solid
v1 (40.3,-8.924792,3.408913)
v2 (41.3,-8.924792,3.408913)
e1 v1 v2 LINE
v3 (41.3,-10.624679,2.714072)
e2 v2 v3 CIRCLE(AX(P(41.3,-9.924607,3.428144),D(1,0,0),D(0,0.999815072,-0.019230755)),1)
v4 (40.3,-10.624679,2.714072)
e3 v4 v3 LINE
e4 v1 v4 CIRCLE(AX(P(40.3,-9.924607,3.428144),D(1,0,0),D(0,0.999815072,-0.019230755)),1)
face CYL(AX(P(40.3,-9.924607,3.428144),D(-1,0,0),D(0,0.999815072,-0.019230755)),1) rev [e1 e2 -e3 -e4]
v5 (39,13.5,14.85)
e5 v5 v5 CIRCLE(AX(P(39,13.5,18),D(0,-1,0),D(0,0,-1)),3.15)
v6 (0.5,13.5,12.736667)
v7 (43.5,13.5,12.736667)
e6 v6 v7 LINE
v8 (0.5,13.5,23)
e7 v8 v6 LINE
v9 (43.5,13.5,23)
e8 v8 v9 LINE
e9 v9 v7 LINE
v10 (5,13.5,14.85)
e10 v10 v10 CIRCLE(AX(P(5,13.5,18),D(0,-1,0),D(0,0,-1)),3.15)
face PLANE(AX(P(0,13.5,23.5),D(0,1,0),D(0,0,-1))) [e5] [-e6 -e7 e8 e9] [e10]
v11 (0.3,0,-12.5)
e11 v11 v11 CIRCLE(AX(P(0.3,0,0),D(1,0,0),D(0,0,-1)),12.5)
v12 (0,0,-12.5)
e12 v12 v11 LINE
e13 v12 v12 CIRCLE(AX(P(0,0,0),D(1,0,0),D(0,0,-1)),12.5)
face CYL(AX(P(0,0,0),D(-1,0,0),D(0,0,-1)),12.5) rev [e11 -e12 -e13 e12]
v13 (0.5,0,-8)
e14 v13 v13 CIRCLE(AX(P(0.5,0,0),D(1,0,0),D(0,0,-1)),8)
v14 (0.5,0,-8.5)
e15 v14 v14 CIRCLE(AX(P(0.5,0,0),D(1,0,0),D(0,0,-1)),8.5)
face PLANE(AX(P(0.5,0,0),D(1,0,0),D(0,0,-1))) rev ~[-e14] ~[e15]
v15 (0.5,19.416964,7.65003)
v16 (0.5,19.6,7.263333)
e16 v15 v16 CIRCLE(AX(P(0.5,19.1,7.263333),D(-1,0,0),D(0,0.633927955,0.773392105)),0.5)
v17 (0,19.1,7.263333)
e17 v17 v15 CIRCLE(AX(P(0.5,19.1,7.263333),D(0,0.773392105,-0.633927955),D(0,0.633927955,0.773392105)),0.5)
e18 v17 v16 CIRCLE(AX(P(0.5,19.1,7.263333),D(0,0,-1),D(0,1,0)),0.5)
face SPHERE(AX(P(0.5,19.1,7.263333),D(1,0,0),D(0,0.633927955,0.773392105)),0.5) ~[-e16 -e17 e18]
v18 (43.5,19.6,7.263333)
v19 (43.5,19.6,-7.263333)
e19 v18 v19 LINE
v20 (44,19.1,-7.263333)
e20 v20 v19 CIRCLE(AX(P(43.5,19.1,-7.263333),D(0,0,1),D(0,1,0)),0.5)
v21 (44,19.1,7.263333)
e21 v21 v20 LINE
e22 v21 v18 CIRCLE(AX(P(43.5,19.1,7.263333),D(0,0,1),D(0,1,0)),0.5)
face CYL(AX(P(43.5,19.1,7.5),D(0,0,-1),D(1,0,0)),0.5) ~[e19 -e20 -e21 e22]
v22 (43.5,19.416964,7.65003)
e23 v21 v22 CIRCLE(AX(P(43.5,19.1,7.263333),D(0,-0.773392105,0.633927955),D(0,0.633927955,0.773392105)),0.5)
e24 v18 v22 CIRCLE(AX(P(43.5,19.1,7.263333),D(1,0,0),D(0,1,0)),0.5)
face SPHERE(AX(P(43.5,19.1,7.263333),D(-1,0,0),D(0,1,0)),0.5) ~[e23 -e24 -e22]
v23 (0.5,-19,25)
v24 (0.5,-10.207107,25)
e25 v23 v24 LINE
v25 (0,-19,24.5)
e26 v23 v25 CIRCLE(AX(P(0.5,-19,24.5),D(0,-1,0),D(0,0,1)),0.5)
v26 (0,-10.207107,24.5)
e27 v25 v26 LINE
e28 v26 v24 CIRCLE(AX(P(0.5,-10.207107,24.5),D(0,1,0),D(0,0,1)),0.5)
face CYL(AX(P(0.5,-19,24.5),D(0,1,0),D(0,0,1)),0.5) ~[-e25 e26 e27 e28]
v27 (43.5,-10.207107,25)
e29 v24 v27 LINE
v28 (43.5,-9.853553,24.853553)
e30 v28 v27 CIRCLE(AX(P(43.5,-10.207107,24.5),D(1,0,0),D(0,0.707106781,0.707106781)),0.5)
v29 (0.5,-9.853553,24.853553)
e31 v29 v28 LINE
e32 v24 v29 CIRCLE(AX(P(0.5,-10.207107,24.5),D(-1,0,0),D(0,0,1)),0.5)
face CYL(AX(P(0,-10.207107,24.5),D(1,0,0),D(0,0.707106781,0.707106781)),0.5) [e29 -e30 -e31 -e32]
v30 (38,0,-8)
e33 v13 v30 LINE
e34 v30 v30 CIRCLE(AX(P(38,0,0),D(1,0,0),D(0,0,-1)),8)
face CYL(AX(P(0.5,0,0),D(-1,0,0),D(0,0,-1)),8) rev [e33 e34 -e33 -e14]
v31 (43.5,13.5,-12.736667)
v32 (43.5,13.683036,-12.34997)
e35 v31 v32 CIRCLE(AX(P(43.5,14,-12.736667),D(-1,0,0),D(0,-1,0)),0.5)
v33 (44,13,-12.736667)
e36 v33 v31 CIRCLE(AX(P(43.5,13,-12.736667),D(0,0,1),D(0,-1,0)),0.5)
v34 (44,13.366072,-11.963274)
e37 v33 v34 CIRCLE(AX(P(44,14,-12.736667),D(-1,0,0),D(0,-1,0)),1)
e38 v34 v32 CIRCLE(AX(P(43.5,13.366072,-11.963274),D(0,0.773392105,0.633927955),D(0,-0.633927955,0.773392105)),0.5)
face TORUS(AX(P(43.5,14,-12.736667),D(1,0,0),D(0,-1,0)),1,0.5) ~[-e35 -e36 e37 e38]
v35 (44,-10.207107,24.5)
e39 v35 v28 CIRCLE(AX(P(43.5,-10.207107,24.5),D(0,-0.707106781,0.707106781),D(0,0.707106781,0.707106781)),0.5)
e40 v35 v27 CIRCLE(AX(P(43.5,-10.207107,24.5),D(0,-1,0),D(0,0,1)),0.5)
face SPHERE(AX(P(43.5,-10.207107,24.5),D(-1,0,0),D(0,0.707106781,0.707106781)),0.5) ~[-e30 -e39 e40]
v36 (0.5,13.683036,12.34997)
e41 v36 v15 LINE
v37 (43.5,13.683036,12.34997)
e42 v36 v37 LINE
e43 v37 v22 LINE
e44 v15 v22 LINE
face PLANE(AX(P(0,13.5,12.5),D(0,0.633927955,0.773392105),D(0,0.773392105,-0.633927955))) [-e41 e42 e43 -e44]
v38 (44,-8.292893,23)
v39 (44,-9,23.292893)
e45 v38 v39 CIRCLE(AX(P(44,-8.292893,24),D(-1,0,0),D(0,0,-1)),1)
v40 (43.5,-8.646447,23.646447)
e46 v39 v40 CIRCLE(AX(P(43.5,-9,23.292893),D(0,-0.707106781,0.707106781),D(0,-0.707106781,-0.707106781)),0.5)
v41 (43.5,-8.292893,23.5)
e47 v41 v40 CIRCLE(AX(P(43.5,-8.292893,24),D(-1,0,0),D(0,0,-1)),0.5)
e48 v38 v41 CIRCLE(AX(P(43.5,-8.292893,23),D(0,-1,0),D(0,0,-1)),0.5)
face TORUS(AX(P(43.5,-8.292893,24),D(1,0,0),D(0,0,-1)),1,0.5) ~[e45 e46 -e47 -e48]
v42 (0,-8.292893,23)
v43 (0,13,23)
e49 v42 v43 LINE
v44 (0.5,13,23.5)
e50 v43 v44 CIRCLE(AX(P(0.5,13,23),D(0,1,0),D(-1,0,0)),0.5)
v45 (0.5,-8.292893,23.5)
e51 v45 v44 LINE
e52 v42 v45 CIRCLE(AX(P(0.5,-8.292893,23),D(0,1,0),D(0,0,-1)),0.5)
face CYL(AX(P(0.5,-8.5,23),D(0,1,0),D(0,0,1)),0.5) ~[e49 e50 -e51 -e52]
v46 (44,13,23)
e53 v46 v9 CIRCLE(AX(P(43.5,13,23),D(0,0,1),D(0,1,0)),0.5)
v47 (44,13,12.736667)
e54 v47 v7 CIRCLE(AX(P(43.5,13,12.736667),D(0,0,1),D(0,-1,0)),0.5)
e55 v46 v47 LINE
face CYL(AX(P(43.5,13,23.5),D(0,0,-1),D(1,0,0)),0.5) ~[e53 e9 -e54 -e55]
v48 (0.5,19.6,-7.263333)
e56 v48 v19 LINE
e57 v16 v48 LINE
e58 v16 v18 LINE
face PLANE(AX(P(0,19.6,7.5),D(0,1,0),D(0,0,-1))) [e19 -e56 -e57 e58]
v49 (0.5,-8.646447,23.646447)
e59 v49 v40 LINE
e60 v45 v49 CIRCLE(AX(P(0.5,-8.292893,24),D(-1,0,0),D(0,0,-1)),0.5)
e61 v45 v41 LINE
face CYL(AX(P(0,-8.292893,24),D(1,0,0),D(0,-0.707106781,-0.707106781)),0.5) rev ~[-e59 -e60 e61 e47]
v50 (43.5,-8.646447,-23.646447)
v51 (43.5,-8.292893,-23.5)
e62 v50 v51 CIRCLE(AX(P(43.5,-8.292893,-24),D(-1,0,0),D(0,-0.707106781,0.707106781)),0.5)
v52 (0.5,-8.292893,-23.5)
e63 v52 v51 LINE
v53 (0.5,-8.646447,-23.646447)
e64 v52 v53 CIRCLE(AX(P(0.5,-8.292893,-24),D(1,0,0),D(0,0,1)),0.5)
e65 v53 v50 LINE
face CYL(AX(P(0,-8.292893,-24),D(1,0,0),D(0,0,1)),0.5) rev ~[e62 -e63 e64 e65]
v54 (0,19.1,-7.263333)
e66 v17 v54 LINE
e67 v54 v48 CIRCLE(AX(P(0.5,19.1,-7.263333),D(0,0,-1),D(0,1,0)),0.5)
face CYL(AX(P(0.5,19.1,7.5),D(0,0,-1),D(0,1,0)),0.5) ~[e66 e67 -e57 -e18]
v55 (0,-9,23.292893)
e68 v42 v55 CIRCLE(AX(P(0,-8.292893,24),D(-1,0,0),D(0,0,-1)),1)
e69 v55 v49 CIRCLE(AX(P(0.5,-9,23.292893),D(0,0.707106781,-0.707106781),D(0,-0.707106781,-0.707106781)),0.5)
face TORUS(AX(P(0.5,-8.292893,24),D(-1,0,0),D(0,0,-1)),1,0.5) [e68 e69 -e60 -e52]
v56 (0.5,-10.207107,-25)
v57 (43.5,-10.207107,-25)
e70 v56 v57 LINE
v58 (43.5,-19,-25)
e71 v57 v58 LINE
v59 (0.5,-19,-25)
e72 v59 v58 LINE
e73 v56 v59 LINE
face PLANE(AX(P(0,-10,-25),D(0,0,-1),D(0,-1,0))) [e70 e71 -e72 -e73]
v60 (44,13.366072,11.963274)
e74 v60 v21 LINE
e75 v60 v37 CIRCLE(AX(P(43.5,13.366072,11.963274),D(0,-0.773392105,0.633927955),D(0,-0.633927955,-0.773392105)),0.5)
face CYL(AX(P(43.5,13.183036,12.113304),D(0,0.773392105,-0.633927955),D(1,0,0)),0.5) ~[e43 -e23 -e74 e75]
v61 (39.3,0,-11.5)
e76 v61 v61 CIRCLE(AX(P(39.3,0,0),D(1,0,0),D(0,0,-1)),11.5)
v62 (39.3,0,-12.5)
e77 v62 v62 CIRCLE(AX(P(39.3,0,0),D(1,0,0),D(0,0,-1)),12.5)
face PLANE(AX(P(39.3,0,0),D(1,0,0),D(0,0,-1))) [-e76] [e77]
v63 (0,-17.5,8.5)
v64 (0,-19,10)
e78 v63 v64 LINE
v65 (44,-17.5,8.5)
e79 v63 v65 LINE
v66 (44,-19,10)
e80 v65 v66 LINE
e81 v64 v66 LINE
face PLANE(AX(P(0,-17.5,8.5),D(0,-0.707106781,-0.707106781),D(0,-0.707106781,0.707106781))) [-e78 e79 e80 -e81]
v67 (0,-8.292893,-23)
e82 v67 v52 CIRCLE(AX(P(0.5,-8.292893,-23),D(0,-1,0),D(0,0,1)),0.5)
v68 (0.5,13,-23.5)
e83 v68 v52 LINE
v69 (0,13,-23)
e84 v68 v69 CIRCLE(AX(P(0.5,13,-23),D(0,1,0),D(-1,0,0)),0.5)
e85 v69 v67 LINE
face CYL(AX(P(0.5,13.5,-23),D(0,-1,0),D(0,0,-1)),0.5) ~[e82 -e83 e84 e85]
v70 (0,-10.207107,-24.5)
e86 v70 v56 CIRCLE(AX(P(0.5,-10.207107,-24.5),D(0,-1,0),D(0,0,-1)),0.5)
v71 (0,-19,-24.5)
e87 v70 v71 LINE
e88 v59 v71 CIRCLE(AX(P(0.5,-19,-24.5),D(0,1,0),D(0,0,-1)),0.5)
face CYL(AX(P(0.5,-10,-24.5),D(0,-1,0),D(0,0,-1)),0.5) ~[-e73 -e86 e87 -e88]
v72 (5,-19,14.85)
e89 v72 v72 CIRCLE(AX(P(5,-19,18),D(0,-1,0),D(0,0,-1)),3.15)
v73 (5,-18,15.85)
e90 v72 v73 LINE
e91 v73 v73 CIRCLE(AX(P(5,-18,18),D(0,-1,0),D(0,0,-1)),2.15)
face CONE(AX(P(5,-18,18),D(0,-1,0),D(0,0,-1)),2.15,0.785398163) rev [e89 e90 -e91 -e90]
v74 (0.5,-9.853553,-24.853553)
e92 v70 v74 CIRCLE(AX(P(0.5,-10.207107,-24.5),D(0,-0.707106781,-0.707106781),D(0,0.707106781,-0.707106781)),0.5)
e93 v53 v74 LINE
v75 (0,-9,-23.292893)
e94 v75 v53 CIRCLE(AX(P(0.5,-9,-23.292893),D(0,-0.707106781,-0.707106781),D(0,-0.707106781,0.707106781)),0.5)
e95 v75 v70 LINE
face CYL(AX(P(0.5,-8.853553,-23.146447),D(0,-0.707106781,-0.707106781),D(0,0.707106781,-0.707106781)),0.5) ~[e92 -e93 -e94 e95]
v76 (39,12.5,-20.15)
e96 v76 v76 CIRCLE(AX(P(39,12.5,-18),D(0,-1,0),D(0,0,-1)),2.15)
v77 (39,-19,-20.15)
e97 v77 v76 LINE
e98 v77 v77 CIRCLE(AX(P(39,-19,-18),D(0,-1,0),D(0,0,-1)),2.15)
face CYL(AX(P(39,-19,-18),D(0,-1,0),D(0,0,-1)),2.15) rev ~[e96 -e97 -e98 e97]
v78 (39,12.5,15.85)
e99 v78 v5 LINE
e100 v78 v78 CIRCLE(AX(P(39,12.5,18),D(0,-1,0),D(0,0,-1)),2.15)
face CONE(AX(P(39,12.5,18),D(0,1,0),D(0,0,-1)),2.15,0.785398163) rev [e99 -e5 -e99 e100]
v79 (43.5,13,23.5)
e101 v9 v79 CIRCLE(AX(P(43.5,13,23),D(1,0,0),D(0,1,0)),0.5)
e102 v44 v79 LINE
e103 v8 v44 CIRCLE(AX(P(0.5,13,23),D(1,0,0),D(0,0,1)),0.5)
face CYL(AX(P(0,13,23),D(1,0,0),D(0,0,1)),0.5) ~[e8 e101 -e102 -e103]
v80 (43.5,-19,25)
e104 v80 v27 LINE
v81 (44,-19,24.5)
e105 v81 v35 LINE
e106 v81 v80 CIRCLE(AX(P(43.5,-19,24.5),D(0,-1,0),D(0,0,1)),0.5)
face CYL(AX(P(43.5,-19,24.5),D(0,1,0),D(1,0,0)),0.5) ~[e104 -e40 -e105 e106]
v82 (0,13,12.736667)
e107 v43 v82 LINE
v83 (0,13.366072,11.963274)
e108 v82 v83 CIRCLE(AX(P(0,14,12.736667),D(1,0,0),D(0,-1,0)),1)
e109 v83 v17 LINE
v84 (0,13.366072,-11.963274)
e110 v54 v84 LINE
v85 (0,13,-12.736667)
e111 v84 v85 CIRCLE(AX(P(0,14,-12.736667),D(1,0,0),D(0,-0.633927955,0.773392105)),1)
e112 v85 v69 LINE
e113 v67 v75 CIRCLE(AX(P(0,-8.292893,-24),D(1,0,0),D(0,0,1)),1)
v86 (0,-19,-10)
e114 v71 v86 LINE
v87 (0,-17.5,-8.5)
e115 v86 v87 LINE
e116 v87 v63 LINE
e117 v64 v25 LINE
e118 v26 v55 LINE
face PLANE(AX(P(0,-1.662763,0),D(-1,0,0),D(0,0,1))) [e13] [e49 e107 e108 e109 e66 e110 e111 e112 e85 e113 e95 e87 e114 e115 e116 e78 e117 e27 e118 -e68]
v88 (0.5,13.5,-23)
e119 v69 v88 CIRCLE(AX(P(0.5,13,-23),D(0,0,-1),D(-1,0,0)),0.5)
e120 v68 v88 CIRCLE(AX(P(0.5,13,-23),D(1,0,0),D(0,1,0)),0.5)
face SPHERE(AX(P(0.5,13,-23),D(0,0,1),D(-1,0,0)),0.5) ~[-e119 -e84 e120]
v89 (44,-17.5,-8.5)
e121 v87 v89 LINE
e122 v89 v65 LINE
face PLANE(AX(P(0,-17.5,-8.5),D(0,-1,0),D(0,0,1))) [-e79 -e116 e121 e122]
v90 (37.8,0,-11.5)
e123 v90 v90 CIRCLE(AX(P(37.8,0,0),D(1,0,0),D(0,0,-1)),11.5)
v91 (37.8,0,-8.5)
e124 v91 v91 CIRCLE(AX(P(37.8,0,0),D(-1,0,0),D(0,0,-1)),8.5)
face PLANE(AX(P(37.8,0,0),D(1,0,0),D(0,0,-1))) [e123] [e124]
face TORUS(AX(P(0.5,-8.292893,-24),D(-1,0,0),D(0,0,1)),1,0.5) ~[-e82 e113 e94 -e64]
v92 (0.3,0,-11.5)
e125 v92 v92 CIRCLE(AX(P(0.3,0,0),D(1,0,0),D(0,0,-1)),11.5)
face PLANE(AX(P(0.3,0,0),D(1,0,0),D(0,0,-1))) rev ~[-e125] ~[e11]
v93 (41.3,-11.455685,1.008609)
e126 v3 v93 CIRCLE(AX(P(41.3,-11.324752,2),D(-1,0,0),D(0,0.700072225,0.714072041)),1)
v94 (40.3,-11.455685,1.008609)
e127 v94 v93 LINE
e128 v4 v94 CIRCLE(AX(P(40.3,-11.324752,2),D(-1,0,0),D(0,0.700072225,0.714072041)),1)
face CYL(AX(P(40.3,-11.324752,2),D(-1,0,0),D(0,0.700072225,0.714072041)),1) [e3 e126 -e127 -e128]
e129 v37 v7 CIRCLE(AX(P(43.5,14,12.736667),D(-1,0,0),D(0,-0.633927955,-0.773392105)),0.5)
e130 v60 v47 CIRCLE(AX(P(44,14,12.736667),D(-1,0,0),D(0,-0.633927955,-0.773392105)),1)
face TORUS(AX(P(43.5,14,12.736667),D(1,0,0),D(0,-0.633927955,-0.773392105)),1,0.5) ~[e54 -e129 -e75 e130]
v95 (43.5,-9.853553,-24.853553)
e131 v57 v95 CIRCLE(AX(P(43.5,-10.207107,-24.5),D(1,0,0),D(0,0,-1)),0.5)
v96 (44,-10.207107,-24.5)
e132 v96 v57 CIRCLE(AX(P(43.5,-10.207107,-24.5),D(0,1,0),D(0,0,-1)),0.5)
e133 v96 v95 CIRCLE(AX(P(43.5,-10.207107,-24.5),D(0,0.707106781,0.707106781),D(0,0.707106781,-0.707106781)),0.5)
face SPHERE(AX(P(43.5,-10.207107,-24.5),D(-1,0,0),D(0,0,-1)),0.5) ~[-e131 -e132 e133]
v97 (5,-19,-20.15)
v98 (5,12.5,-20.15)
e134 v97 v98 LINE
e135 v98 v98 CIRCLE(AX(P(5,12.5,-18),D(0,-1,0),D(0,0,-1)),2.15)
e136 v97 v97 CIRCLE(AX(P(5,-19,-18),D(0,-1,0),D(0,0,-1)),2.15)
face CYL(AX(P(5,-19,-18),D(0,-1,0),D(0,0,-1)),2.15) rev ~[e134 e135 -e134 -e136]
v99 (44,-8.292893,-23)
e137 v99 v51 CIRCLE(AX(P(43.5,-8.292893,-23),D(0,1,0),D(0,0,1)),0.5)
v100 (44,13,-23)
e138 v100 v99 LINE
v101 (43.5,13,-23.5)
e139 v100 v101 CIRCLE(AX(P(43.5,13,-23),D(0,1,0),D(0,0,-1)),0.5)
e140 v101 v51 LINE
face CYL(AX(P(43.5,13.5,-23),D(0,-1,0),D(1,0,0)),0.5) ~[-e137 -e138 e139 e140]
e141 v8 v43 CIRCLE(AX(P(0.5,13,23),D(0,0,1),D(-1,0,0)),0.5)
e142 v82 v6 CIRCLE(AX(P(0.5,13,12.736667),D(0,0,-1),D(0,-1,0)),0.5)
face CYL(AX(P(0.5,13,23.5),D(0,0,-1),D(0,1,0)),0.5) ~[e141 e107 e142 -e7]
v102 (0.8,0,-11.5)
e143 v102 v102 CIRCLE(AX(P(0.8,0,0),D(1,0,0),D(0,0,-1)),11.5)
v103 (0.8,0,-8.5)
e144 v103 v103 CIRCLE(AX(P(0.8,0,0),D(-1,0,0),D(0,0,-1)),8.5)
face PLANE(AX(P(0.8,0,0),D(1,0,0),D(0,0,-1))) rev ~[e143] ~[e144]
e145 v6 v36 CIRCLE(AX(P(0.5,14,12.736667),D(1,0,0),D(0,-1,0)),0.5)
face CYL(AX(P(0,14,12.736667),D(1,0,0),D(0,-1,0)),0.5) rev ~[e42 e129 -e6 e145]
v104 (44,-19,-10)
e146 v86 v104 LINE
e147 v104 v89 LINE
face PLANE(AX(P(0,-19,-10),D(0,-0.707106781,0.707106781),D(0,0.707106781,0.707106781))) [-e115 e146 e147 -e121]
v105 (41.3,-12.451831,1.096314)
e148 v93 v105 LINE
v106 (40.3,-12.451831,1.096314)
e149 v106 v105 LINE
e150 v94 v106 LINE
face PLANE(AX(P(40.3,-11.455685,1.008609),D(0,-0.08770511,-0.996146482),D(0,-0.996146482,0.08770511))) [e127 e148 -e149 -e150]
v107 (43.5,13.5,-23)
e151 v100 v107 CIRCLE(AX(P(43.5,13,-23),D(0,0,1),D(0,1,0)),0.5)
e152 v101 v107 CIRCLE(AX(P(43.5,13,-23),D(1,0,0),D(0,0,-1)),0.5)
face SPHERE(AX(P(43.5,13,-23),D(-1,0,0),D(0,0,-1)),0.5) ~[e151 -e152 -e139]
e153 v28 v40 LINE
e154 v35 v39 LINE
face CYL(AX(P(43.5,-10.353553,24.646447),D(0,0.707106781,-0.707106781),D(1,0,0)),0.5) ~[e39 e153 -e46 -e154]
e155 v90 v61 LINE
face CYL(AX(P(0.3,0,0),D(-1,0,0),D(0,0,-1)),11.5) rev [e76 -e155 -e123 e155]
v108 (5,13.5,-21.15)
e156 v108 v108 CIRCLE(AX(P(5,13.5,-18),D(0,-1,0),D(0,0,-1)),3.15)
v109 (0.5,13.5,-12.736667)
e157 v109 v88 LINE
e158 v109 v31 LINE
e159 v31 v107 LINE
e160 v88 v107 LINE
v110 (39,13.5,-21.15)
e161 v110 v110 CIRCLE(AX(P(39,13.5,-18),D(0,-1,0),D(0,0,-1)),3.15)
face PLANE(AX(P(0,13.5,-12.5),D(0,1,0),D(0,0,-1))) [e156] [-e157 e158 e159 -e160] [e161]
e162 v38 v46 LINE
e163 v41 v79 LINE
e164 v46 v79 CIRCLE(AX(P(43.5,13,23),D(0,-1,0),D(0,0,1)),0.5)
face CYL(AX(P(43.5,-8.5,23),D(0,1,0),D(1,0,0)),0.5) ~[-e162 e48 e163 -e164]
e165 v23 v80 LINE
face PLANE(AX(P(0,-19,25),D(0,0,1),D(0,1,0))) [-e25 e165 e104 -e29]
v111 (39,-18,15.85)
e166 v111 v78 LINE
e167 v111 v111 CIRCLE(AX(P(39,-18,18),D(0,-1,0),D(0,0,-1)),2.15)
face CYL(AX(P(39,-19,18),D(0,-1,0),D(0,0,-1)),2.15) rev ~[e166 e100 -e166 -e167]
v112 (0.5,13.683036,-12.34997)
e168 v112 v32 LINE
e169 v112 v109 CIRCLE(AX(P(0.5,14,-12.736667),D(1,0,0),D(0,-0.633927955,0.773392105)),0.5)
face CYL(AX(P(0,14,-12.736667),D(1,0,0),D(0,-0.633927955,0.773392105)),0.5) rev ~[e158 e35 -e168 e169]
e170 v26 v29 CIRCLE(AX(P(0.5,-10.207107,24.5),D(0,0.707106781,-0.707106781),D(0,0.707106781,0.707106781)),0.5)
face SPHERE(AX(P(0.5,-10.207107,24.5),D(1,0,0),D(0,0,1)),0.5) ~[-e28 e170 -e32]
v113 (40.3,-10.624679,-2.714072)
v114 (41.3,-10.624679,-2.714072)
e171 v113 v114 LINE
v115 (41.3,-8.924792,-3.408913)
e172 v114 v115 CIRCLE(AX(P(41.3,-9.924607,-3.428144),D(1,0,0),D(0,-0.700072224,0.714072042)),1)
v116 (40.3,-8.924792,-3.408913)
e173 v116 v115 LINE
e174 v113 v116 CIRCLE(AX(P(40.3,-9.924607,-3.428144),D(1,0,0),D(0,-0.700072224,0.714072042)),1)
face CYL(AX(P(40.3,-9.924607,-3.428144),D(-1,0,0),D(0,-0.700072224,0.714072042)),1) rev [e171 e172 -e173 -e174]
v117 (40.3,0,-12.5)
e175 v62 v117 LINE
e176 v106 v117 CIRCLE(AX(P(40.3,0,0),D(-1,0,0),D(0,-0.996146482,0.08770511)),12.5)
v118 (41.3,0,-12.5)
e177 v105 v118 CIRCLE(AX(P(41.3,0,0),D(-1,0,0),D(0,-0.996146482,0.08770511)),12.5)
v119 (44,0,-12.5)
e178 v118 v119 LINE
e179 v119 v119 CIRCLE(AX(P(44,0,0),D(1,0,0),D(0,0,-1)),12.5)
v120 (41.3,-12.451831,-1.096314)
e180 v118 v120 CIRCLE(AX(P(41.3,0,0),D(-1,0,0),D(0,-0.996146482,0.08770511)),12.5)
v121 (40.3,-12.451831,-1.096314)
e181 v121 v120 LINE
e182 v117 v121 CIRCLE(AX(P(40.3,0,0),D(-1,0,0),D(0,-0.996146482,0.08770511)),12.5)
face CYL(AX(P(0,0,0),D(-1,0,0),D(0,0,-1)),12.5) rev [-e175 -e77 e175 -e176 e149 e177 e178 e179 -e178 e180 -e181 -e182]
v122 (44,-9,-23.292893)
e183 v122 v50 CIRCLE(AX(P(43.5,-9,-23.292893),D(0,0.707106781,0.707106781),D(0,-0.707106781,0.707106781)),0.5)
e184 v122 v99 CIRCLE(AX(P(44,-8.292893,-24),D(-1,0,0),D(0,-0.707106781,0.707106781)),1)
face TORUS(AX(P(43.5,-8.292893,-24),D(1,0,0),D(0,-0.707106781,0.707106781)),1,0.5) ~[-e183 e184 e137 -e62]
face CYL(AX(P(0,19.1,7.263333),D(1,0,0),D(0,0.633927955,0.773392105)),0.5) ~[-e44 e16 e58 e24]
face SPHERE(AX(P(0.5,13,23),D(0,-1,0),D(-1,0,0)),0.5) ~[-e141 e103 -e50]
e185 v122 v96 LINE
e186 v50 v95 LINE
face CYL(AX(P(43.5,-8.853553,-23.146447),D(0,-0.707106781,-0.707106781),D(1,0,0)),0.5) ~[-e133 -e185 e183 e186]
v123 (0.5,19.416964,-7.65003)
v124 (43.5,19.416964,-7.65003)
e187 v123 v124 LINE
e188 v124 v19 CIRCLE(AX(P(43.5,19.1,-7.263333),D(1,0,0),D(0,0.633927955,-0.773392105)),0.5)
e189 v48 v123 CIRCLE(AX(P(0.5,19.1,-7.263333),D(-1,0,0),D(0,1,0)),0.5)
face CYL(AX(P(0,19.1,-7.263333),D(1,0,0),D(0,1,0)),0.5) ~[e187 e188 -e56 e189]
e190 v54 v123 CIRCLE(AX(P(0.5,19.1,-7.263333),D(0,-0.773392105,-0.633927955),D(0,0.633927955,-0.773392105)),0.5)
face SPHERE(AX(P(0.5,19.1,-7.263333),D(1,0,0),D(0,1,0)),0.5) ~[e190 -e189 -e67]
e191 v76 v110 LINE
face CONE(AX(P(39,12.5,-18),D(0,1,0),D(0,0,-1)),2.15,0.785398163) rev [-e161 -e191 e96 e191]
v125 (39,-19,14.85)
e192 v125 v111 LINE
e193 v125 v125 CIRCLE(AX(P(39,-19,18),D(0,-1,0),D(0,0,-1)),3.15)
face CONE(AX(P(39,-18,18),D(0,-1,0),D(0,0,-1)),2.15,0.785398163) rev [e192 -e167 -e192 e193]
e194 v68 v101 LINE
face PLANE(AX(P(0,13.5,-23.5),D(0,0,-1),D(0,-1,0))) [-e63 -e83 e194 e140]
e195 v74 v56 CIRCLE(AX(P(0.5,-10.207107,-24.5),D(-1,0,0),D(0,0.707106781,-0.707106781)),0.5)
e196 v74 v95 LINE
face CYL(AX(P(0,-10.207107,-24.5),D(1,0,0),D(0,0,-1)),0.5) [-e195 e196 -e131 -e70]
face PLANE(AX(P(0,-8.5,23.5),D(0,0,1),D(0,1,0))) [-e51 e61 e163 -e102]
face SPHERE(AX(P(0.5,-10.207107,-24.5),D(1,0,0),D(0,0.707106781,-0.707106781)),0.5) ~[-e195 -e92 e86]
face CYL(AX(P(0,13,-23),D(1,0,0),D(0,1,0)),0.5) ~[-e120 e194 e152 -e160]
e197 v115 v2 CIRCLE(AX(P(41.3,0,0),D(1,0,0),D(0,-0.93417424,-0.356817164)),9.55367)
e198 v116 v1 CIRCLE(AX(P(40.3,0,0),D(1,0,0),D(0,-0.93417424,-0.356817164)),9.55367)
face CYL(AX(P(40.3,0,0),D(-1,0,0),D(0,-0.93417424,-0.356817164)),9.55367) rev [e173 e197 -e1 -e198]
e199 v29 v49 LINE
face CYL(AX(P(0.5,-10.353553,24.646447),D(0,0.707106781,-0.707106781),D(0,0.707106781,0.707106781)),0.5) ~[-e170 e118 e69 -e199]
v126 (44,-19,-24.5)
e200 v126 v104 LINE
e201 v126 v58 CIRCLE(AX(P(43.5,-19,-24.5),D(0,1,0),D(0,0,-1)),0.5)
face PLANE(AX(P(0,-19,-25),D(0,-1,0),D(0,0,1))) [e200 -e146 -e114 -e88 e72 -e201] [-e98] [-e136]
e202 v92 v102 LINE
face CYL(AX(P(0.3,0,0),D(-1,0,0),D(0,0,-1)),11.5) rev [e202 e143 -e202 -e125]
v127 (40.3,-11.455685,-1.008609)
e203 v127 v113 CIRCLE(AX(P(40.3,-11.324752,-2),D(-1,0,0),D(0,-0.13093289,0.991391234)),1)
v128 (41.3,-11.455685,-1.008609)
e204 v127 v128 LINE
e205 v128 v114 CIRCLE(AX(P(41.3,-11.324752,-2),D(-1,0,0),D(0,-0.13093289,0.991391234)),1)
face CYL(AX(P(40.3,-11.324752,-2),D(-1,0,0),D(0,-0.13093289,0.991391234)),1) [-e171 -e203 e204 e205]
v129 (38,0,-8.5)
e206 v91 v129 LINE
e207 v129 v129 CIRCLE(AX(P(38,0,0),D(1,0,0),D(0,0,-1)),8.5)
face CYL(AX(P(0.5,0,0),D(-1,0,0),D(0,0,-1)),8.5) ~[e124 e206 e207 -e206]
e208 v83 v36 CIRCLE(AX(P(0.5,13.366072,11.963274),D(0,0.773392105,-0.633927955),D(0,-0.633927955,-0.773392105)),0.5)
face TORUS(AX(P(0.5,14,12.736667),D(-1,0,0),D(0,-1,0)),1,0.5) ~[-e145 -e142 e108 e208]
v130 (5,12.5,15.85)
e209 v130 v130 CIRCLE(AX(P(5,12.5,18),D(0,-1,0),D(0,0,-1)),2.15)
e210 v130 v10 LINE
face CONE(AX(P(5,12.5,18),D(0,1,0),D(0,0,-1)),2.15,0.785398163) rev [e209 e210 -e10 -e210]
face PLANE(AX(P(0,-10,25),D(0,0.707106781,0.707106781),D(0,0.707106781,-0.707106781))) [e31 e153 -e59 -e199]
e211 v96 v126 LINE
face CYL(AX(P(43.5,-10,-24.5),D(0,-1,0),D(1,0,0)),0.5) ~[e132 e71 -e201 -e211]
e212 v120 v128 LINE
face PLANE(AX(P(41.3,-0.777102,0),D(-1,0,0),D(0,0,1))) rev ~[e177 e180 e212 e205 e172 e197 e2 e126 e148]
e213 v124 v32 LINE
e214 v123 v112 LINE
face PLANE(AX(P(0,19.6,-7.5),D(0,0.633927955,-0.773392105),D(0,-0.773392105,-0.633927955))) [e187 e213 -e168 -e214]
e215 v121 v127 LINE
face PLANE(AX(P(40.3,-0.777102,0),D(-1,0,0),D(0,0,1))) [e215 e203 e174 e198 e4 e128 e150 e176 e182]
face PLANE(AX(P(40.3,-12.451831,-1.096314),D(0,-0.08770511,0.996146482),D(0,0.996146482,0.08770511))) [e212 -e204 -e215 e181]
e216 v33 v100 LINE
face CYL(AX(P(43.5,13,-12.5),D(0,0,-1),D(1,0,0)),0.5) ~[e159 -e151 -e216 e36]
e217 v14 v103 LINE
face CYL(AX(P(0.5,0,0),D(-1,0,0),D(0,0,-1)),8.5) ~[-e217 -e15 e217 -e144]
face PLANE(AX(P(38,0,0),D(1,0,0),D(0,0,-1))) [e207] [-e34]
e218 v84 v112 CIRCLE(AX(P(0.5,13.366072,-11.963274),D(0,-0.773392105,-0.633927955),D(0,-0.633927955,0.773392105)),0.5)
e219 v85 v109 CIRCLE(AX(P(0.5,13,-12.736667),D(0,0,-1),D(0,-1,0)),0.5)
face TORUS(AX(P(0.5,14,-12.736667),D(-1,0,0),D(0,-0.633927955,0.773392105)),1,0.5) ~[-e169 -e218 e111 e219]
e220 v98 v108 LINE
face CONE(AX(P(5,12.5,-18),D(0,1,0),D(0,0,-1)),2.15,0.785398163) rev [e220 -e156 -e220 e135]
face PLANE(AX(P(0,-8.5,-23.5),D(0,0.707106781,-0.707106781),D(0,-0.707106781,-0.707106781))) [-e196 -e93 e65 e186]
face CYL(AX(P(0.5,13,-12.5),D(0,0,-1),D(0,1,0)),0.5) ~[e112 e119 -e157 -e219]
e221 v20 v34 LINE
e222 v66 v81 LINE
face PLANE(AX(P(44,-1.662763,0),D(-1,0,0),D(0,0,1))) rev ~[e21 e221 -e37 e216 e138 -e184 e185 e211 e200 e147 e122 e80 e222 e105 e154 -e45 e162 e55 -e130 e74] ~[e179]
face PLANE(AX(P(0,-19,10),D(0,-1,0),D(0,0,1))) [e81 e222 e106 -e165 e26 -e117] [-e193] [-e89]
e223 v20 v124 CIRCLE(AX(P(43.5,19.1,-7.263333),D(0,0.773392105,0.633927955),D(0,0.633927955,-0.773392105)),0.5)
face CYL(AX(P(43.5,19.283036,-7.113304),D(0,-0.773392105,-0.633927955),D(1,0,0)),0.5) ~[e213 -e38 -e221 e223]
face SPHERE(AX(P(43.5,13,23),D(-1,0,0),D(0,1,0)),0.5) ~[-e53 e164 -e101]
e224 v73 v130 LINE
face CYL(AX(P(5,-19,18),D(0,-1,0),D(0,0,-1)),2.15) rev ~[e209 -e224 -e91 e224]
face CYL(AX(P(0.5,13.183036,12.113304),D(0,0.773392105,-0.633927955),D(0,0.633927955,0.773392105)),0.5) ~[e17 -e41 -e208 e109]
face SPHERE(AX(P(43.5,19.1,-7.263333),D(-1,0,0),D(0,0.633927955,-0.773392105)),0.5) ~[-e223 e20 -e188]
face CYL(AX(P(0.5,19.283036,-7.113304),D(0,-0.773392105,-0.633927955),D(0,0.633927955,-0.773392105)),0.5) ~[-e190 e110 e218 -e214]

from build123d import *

# Parameters (mm, degrees)
SKETCH1_R           = 12.5
BOSS_EXTRUDE1_DEPTH = 44
EXTRUDE_THIN1_START = 0.5
SKETCH1_4_R         = 8.5
SKETCH1_4_R_2       = 8
EXTRUDE_THIN1_DEPTH = 37.5
BOSS_EXTRUDE2_START = 0.8
SKETCH1_5_R         = 11.5
SKETCH1_5_R_2       = 8
BOSS_EXTRUDE2_DEPTH = 37
BOSS_EXTRUDE3_START = 0.3
SKETCH1_6_R         = 12.5
SKETCH1_6_R_2       = 11.5
BOSS_EXTRUDE3_DEPTH = 39
BOSS_EXTRUDE4_START = 1
BOSS_EXTRUDE4_DEPTH = 1
FILLET1_R           = 0.5
SKETCH4_R           = 2.15
CUT_EXTRUDE3_DEPTH  = 64.647152332
CHAMFER1_SIZE       = 1


with BuildPart() as part:
    # Sketch1 → Boss-Extrude1 (new body)
    with BuildSketch(Plane(origin=(0, 0, 0), x_dir=(0, 0, -1), z_dir=(1, 0, 0))):
        Polygon((-25, -19), (-10, -19), (-8.5, -17.5), (8.5, -17.5), (10, -19), (25, -19), (25, -10), (23.5, -8.5), (23.5, 13.5), (12.5, 13.5), (7.5, 19.6), (-7.5, 19.6), (-12.5, 13.5), (-23.5, 13.5), (-23.5, -8.5), (-25, -10), align=None)
        Circle(SKETCH1_R, mode=Mode.SUBTRACT)
    extrude(amount=BOSS_EXTRUDE1_DEPTH)



with BuildPart() as body_2:
    # Sketch1<4> → Extrude-Thin1 (new body)
    with BuildSketch(Plane(origin=(0, 0, 0), x_dir=(0, 0, -1), z_dir=(1, 0, 0)).offset(EXTRUDE_THIN1_START)):
        Circle(SKETCH1_4_R)
        Circle(SKETCH1_4_R_2, mode=Mode.SUBTRACT)
    extrude(amount=EXTRUDE_THIN1_DEPTH)

    # Sketch1<5> → Boss-Extrude2 (add)
    with BuildSketch(Plane(origin=(0, 0, 0), x_dir=(0, 0, -1), z_dir=(1, 0, 0)).offset(BOSS_EXTRUDE2_START)):
        Circle(SKETCH1_5_R)
        Circle(SKETCH1_5_R_2, mode=Mode.SUBTRACT)
    extrude(amount=BOSS_EXTRUDE2_DEPTH)


with BuildPart() as part_1:
    add(part.part)

    add(body_2.part)  # Boss-Extrude3 merges body 2
    # Sketch1<6> → Boss-Extrude3 (add)
    with BuildSketch(Plane(origin=(0, 0, 0), x_dir=(0, 0, -1), z_dir=(1, 0, 0)).offset(BOSS_EXTRUDE3_START)):
        Circle(SKETCH1_6_R)
        Circle(SKETCH1_6_R_2, mode=Mode.SUBTRACT)
    extrude(amount=BOSS_EXTRUDE3_DEPTH)

    # Sketch3 → Boss-Extrude4 (add)
    with BuildSketch(Plane(origin=(39.3, 0, 0), x_dir=(0, 0, -1), z_dir=(1, 0, 0)).offset(BOSS_EXTRUDE4_START)):
        with BuildLine():
            Line((-1.008608766, -11.455684543), (-1.096313876, -12.451831025))
            ThreePointArc((-1.096313876, -12.451831025), (0, 12.5), (1.096313876, -12.451831025))
            Line((1.096313876, -12.451831025), (1.008608766, -11.455684543))
            ThreePointArc((1.008608766, -11.455684543), (1.561971623, -10.425790507), (2.714072041, -10.624679428))
            ThreePointArc((2.714072041, -10.624679428), (4.353799231, -10.302975473), (3.408913328, -8.924792132))
            ThreePointArc((3.408913328, -8.924792132), (0, 9.553669697), (-3.408913328, -8.924792132))
            ThreePointArc((-3.408913328, -8.924792132), (-4.353799231, -10.302975473), (-2.714072041, -10.624679428))
            ThreePointArc((-2.714072041, -10.624679428), (-1.561971623, -10.425790507), (-1.008608766, -11.455684543))
        make_face()
    extrude(amount=BOSS_EXTRUDE4_DEPTH)

    # Fillet1
    fillet1_edges = [part_1.edges().sort_by_distance(p)[0] for p in [
        (22, -8.5, -23.5),
        (22, -8.5, 23.5),
        (22, -10, 25),
        (22, -10, -25),
        (22, 13.5, -12.5),
        (22, 13.5, 12.5),
        (22, 19.6, 7.5),
        (22, 19.6, -7.5),
        (22, 13.5, -23.5),
        (22, 13.5, 23.5),
        (44, 16.55, -10),
        (44, 16.55, 10),
        (44, 2.5, 23.5),
        (0, -9.25, 24.25),
        (0, 16.55, 10),
        (44, -9.25, -24.25),
        (44, -14.5, -25),
        (44, 2.5, -23.5),
        (44, 19.6, 0),
        (44, 13.5, -18),
        (44, 13.5, 18),
        (44, -9.25, 24.25),
        (44, -14.5, 25),
        (0, -14.5, -25),
        (0, -9.25, -24.25),
        (0, 2.5, -23.5),
        (0, 16.55, -10),
        (0, 13.5, -18),
        (0, 19.6, 0),
        (0, -14.5, 25),
        (0, 2.5, 23.5),
        (0, 13.5, 18),
    ]]
    fillet(fillet1_edges, radius=FILLET1_R)

    # Sketch4 → Cut-Extrude3 (cut, through all)
    with BuildSketch(Plane.XZ.offset(19)):
        with Locations((5, 18)):
            Circle(SKETCH4_R)
        with Locations((39, 18)):
            Circle(SKETCH4_R)
        with Locations((39, -18)):
            Circle(SKETCH4_R)
        with Locations((5, -18)):
            Circle(SKETCH4_R)
    extrude(amount=-CUT_EXTRUDE3_DEPTH, mode=Mode.SUBTRACT)

    # Chamfer1
    chamfer1_edges = [part_1.edges().sort_by_distance(p)[0] for p in [
        (36.85, 13.5, -18),
        (2.85, 13.5, -18),
        (2.85, 13.5, 18),
        (36.85, 13.5, 18),
        (36.85, -19, 18),
        (2.85, -19, 18),
    ]]
    chamfer(chamfer1_edges, length=CHAMFER1_SIZE)


solid = part_1.part
